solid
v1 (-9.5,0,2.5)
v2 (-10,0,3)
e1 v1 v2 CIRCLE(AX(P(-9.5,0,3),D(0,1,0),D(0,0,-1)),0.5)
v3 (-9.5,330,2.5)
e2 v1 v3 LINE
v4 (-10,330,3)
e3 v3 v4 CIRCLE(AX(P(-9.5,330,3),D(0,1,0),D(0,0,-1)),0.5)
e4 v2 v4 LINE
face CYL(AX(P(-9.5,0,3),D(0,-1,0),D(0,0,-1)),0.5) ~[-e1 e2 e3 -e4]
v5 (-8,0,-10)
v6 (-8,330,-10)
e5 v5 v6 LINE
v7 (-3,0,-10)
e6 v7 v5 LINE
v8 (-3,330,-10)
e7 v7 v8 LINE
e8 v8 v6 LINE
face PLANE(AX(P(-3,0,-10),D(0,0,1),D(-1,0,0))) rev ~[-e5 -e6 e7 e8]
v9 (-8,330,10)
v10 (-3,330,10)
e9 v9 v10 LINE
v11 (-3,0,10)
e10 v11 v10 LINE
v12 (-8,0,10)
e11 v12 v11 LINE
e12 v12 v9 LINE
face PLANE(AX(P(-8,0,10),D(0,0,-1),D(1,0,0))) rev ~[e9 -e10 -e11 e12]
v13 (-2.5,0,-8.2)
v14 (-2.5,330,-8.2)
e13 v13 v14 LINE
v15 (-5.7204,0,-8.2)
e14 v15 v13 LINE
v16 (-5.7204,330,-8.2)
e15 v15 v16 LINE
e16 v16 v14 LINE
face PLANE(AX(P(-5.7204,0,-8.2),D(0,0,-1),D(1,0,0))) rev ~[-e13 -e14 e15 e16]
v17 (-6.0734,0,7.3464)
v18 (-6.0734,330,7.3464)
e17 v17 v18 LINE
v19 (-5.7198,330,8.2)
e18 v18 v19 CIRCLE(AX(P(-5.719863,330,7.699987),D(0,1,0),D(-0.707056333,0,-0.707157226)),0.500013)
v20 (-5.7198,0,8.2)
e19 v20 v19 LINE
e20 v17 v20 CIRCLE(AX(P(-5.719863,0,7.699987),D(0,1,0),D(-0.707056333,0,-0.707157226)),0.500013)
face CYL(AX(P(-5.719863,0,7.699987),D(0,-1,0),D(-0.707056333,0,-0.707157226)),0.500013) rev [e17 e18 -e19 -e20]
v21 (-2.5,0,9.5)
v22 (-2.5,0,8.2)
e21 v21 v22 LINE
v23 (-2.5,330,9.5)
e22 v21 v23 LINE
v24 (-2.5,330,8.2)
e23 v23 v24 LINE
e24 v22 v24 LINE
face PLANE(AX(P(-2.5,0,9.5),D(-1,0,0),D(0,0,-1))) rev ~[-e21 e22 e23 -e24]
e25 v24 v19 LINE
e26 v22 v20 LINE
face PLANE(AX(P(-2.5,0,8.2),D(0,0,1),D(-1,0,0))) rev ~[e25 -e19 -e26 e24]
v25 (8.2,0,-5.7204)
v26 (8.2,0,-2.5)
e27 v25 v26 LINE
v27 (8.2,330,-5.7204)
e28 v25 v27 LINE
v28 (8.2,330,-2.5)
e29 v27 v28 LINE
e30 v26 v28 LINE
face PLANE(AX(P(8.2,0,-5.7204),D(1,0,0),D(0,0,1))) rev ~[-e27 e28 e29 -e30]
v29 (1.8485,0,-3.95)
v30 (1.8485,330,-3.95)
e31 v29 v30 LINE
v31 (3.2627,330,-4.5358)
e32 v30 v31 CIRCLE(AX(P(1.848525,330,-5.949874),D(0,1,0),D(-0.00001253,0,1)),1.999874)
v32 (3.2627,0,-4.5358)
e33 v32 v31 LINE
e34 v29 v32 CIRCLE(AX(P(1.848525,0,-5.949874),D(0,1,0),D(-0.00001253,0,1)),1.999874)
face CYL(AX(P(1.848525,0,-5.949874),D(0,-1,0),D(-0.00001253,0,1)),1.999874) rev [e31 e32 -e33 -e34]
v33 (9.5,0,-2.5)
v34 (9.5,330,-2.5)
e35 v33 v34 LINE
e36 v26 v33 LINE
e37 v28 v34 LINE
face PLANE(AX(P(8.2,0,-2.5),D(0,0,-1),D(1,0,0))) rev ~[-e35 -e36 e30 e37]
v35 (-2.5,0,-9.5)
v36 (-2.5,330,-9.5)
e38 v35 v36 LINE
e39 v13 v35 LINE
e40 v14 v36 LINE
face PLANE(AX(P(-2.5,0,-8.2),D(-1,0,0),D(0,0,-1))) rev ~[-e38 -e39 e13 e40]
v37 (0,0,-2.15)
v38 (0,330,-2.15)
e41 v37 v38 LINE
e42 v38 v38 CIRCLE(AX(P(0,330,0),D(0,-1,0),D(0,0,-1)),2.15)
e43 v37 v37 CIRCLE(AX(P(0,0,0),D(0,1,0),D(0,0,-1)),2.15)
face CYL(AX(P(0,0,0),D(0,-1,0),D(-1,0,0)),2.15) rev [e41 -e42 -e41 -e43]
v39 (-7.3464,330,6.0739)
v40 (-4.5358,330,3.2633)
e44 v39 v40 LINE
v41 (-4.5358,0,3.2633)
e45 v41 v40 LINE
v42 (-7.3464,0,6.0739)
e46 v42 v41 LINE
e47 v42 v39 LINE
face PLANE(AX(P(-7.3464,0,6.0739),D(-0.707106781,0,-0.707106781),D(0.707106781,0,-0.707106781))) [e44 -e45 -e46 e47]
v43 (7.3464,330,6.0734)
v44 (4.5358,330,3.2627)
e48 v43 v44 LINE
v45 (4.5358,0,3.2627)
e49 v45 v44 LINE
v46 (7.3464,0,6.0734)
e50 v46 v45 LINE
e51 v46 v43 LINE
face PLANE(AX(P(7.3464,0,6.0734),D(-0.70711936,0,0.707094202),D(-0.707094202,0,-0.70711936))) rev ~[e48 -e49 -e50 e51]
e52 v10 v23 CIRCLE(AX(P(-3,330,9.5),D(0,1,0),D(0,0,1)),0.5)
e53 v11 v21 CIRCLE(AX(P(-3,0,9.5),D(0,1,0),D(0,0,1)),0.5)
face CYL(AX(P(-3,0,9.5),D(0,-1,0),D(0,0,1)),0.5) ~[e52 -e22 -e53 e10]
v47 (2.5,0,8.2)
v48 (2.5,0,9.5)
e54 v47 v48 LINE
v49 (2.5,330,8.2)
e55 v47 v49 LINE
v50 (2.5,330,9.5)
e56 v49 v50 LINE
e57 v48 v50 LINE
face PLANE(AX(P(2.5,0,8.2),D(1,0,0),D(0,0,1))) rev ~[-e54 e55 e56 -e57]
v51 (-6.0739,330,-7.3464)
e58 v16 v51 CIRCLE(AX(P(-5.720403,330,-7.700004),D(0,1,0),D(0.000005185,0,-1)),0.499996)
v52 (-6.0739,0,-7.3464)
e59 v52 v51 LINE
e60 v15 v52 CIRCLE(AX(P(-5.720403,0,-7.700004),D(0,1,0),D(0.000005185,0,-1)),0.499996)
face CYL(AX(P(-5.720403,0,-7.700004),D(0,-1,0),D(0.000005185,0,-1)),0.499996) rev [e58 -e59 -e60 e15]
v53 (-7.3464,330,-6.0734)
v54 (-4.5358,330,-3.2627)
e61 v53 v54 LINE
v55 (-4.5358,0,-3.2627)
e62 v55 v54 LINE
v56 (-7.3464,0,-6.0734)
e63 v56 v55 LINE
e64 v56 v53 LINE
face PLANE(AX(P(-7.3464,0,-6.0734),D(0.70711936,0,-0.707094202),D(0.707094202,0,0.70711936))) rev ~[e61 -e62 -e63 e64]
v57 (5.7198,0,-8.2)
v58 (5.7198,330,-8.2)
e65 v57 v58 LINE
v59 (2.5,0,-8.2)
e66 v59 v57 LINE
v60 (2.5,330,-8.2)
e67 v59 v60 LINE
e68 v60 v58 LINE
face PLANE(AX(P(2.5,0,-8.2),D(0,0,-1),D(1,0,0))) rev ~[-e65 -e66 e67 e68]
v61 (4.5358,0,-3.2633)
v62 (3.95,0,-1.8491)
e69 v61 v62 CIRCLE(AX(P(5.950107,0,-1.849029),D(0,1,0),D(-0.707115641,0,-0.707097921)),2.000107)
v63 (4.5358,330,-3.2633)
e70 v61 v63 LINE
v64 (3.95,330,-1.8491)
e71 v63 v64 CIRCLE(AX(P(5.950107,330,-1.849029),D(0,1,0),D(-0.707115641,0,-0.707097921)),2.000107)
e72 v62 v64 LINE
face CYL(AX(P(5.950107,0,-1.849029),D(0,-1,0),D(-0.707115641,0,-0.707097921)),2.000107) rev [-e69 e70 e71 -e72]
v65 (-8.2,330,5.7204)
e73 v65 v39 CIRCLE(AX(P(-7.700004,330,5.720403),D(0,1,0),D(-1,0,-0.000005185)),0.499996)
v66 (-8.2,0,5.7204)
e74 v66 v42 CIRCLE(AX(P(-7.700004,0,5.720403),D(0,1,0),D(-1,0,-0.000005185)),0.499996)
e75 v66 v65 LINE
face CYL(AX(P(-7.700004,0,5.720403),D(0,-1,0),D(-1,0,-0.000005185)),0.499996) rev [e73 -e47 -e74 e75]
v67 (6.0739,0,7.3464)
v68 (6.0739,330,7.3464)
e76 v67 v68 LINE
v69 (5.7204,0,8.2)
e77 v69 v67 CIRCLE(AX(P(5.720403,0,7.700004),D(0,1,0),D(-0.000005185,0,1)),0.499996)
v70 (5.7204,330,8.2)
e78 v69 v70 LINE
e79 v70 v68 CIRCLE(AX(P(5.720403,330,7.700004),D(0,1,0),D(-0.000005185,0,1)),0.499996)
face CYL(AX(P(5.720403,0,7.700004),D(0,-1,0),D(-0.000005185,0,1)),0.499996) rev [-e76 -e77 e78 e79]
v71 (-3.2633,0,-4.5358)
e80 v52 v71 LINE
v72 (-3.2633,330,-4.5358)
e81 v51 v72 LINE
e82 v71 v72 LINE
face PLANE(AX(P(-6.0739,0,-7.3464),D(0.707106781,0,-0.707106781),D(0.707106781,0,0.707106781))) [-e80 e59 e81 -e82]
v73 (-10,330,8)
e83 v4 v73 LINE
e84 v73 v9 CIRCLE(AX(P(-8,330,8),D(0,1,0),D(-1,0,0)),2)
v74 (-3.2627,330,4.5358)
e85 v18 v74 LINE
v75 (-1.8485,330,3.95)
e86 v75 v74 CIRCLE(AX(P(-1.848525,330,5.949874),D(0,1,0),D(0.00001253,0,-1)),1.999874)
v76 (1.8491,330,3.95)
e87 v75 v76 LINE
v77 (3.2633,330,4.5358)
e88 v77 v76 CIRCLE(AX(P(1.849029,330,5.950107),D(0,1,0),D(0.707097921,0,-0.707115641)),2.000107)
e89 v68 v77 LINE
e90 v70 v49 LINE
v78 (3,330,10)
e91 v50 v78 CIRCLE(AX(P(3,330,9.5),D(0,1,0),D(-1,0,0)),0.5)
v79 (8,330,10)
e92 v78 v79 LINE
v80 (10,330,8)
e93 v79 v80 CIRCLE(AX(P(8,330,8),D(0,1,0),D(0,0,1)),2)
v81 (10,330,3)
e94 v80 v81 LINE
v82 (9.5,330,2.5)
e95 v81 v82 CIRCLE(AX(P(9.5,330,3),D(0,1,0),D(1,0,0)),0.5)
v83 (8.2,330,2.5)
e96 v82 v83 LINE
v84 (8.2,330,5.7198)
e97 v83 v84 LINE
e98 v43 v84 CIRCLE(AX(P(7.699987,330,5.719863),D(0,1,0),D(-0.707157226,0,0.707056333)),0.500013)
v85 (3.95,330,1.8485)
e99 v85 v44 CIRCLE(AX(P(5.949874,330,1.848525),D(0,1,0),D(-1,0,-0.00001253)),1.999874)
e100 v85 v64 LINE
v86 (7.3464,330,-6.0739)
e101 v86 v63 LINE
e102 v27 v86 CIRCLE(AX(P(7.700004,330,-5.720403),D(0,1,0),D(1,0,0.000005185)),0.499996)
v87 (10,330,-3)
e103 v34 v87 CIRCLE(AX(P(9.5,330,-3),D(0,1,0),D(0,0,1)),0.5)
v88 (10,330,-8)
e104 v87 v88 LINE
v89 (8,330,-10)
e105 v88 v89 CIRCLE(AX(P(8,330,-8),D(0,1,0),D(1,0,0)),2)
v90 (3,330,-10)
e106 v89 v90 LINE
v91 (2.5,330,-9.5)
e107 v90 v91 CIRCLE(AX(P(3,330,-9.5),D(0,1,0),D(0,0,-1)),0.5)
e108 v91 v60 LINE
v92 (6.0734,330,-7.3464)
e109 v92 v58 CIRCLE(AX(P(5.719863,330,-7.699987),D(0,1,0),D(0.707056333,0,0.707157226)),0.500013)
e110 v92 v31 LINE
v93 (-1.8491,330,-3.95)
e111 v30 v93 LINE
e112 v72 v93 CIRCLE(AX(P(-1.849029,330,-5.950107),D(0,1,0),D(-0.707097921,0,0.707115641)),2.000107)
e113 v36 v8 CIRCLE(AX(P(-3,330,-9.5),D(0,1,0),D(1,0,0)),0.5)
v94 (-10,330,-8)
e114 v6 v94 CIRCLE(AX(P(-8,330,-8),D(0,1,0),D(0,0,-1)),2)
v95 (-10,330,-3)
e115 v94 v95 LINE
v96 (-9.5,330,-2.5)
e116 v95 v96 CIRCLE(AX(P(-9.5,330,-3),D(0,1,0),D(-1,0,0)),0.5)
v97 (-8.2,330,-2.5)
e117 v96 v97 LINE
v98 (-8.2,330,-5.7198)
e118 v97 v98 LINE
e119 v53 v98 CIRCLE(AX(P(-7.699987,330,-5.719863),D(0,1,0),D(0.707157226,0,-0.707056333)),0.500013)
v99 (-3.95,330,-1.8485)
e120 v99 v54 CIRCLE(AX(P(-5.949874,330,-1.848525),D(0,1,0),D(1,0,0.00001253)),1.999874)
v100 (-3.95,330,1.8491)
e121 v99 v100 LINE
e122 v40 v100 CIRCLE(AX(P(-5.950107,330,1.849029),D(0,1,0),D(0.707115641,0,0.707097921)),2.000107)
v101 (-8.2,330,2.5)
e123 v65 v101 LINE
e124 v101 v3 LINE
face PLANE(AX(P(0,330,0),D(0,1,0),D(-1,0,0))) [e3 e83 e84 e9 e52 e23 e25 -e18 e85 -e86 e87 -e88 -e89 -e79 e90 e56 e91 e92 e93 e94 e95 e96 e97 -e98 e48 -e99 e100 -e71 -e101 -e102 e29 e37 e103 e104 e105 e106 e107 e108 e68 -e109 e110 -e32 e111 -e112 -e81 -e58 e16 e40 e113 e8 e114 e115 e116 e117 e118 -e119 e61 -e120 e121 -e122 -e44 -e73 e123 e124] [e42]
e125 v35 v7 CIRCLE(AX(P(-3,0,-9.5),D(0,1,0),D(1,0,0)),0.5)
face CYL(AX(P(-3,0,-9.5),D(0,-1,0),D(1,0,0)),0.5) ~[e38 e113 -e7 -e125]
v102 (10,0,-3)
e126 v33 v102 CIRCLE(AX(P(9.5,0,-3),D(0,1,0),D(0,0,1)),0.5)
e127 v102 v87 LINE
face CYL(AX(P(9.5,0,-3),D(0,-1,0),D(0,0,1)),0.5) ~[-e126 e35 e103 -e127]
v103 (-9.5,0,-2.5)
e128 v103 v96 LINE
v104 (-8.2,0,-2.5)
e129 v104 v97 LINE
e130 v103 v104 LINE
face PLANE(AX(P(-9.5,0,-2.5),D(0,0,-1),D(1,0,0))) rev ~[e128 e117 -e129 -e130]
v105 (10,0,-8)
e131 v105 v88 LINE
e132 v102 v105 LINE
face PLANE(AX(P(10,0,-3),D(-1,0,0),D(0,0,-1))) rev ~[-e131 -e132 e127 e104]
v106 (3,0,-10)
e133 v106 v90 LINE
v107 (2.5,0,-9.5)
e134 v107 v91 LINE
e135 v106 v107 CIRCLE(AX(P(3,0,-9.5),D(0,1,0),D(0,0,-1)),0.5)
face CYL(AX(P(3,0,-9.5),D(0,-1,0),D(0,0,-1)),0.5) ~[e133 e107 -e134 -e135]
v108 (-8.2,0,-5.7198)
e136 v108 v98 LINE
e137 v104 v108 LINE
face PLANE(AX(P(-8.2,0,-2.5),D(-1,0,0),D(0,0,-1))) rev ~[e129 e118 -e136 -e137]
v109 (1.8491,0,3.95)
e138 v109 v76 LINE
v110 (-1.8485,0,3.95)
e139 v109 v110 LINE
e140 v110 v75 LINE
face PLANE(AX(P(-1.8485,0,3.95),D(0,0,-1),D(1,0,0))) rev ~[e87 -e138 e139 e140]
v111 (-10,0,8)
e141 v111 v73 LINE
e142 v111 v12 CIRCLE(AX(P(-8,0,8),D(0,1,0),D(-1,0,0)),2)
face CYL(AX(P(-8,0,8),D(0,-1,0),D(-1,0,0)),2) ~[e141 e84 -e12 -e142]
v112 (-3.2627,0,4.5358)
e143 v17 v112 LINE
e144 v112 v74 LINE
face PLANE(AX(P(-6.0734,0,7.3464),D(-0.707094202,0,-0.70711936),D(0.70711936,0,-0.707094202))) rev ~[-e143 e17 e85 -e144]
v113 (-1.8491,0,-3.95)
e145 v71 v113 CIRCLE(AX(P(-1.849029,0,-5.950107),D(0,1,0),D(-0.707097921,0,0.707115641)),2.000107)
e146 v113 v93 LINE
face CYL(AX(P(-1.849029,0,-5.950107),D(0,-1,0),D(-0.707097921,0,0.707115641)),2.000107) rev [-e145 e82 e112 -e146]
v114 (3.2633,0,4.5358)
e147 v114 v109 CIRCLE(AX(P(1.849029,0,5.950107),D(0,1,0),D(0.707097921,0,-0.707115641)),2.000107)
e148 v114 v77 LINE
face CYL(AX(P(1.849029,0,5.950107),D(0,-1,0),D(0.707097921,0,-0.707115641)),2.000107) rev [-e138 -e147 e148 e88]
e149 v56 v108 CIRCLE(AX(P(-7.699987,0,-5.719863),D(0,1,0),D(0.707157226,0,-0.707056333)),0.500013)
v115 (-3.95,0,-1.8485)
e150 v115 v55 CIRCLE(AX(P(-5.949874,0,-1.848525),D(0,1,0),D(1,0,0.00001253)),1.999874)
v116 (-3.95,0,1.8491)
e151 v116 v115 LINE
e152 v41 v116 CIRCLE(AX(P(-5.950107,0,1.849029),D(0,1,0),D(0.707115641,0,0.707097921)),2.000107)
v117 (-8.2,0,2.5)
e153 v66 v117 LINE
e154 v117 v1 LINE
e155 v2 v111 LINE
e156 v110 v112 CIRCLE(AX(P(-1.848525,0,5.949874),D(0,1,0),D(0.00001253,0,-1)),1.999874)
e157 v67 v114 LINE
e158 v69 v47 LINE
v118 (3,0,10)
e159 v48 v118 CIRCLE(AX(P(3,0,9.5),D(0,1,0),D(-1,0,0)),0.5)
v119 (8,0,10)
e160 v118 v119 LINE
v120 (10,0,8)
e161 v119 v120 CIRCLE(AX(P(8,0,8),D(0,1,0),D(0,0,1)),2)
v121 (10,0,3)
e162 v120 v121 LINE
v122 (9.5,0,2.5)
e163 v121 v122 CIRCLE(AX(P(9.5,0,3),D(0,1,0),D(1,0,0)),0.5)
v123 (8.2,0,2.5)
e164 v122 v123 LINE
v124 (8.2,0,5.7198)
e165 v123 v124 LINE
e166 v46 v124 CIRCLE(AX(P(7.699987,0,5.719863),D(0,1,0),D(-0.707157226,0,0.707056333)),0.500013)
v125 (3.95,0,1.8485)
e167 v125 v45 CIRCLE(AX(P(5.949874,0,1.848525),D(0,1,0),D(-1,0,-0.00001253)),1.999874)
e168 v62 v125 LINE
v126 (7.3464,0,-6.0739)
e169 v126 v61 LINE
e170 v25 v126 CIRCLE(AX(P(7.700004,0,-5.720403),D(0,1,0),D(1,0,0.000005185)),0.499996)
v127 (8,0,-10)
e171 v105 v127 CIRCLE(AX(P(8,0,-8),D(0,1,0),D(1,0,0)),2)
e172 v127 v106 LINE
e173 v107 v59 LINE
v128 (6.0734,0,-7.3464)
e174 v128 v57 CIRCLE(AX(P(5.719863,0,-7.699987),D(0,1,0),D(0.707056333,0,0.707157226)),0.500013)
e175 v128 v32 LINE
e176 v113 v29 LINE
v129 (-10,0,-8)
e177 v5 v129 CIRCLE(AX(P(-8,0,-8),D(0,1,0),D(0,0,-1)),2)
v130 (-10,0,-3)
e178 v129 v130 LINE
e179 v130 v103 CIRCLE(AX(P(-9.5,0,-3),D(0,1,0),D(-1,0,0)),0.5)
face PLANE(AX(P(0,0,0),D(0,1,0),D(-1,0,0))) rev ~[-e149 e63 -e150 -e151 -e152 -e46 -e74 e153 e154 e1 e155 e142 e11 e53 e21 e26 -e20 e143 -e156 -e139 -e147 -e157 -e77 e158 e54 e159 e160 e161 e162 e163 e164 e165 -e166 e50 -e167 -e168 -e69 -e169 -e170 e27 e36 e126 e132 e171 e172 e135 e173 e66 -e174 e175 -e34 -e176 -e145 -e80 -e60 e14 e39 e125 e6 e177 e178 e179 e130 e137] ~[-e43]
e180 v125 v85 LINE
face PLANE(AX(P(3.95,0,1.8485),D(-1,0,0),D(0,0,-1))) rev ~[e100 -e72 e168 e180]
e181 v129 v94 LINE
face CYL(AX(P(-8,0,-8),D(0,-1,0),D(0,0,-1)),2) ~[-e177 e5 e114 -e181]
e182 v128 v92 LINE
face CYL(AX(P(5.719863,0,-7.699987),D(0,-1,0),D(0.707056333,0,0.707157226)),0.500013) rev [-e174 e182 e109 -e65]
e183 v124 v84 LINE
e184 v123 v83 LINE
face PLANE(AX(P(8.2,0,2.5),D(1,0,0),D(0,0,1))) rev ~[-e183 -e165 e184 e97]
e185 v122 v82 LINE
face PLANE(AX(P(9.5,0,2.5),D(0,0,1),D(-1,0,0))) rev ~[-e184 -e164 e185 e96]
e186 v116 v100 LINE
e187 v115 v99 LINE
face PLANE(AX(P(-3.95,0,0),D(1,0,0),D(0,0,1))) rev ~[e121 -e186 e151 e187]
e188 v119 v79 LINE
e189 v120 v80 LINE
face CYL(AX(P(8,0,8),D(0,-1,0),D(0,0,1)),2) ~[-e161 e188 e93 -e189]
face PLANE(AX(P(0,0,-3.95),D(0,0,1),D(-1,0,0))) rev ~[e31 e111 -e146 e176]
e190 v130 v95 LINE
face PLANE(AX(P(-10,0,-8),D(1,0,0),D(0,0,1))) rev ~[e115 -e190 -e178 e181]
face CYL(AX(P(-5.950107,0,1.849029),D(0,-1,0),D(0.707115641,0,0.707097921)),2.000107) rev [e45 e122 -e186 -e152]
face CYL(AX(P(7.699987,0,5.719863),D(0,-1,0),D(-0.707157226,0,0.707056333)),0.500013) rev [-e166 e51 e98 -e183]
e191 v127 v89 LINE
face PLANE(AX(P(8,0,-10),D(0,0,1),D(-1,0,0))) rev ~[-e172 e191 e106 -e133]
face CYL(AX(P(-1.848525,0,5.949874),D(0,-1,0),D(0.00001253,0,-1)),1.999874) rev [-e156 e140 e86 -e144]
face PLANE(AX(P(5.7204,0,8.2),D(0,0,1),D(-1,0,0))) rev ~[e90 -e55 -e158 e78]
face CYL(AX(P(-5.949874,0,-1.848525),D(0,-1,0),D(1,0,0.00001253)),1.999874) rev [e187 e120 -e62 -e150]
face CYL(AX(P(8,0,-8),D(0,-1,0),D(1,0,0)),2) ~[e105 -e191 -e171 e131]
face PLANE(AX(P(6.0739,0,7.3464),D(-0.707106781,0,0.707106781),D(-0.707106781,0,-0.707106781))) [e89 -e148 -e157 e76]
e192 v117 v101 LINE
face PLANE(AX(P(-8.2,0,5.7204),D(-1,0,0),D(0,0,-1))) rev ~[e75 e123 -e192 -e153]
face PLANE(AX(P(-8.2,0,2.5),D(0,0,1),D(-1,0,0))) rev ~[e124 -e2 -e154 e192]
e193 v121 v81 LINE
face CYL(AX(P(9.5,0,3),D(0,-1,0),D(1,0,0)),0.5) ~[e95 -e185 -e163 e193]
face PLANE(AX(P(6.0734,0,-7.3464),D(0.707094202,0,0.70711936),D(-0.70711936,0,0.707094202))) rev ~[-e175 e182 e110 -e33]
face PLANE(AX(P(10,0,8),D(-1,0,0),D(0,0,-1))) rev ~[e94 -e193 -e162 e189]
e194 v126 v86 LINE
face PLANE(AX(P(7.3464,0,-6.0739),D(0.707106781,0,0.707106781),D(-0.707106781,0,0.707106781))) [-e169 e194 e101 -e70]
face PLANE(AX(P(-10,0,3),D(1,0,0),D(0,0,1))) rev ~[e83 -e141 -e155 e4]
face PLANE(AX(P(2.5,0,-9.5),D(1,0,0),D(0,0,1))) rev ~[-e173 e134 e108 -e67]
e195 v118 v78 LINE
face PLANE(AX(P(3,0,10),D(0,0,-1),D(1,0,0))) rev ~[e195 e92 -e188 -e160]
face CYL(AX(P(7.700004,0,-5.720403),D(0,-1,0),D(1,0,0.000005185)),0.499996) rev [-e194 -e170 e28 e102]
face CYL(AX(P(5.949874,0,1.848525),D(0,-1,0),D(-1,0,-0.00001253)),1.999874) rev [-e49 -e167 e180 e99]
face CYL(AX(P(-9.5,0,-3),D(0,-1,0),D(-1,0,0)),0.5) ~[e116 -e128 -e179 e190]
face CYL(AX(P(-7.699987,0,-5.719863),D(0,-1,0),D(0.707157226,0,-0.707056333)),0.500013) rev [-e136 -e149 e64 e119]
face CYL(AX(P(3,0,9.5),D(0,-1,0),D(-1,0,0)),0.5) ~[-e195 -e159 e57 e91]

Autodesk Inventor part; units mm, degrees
ref_plane "YZ Plane" through (0, 0, 0) normal (1, 0, 0) x (0, 1, 0)
ref_plane "XZ Plane" through (0, 0, 0) normal (0, 1, 0) x (-1, 0, 0)
ref_plane "XY Plane" through (0, 0, 0) normal (0, 0, 1) x (1, 0, 0)
sketch "Sketch1" plane through (0, 0, 0) normal (0, 1, 0) x (-1, 0, 0)
  line L0 (8, 10) -> (3, 10)
  line L1 (10, 3) -> (10, 8)
  line L2 (2.5, 9.5) -> (2.5, 8.2)
  line L3 (2.5, 8.2) -> (5.7198, 8.2)
  line L4 (6.0734, 7.3464) -> (3.2627, 4.5358)
  line L5 (1.8485, 3.95) -> (0, 3.95)
  line L6 (0, 3.95) -> (0, 2.15)
  line L7 (0, 2.15) -> (0, 2.15)
  line L8 (2.15, 0) -> (2.15, 0)
  line L9 (2.15, 0) -> (3.95, 0)
  line L10 (8.2, 5.7204) -> (8.2, 2.5)
  line L11 (8.2, 2.5) -> (9.5, 2.5)
  line L12 (0, 29.0836) -> (0, -4.1523) construction
  line L13 (3.95, 0) -> (3.95, 1.8491)
  line L14 (7.3464, 6.0739) -> (4.5358, 3.2633)
  arc A0 (10, 8) -> (8, 10) centre (8, 8) ccw
  arc A1 (8.2, 5.7204) -> (7.3464, 6.0739) centre (7.7, 5.7204) ccw
  arc A2 (6.0734, 7.3464) -> (5.7198, 8.2) centre (5.7198, 7.7) ccw
  arc A3 (4.5358, 3.2633) -> (3.95, 1.8491) centre (5.95, 1.8491) ccw
  arc A4 (1.8485, 3.95) -> (3.2627, 4.5358) centre (1.8485, 5.95) ccw
  arc A5 (2.15, 0) -> (0, 2.15) centre (0, 0) ccw
  arc A6 (3, 10) -> (2.5, 9.5) centre (3, 9.5) ccw
  arc A7 (9.5, 2.5) -> (10, 3) centre (9.5, 3) ccw
  line L15 (18.5462, 0) -> (-9.9601, 0) construction
  line L16 (-3, 10) -> (-8, 10)
  arc A8 (-2.5, 9.5) -> (-3, 10) centre (-3, 9.5) ccw
  line L17 (-2.5, 8.2) -> (-2.5, 9.5)
  line L18 (-5.7204, 8.2) -> (-2.5, 8.2)
  arc A9 (-5.7204, 8.2) -> (-6.0739, 7.3464) centre (-5.7204, 7.7) ccw
  line L19 (-6.0739, 7.3464) -> (-3.2633, 4.5358)
  arc A10 (-3.2633, 4.5358) -> (-1.8491, 3.95) centre (-1.8491, 5.95) ccw
  line L20 (0, 3.95) -> (-1.8491, 3.95)
  line L21 (0, 2.15) -> (0, 3.95)
  arc A11 (0, 2.15) -> (-2.15, 0) centre (0, 0) ccw
  line L22 (-3.95, 0) -> (-2.15, 0)
  line L23 (-3.95, 1.8485) -> (-3.95, 0)
  arc A12 (-3.95, 1.8485) -> (-4.5358, 3.2627) centre (-5.95, 1.8485) ccw
  line L24 (-7.3464, 6.0734) -> (-4.5358, 3.2627)
  arc A13 (-7.3464, 6.0734) -> (-8.2, 5.7198) centre (-7.7, 5.7198) ccw
  line L25 (-8.2, 2.5) -> (-8.2, 5.7198)
  line L26 (-9.5, 2.5) -> (-8.2, 2.5)
  arc A14 (-10, 3) -> (-9.5, 2.5) centre (-9.5, 3) ccw
  line L27 (-10, 8) -> (-10, 3)
  arc A15 (-8, 10) -> (-10, 8) centre (-8, 8) ccw
  line L28 (-10, -3) -> (-10, -8)
  arc A16 (-9.5, -2.5) -> (-10, -3) centre (-9.5, -3) ccw
  line L29 (-8.2, -2.5) -> (-9.5, -2.5)
  line L30 (-8.2, -5.7204) -> (-8.2, -2.5)
  arc A17 (-8.2, -5.7204) -> (-7.3464, -6.0739) centre (-7.7, -5.7204) ccw
  line L31 (-7.3464, -6.0739) -> (-4.5358, -3.2633)
  arc A18 (-4.5358, -3.2633) -> (-3.95, -1.8491) centre (-5.95, -1.8491) ccw
  line L32 (-3.95, 0) -> (-3.95, -1.8491)
  line L33 (-2.15, 0) -> (-3.95, 0)
  arc A19 (-2.15, 0) -> (0, -2.15) centre (0, 0) ccw
  line L34 (0, -3.95) -> (0, -2.15)
  line L35 (-1.8485, -3.95) -> (0, -3.95)
  arc A20 (-1.8485, -3.95) -> (-3.2627, -4.5358) centre (-1.8485, -5.95) ccw
  line L36 (-6.0734, -7.3464) -> (-3.2627, -4.5358)
  arc A21 (-6.0734, -7.3464) -> (-5.7198, -8.2) centre (-5.7198, -7.7) ccw
  line L37 (-2.5, -8.2) -> (-5.7198, -8.2)
  line L38 (-2.5, -9.5) -> (-2.5, -8.2)
  arc A22 (-3, -10) -> (-2.5, -9.5) centre (-3, -9.5) ccw
  line L39 (-8, -10) -> (-3, -10)
  arc A23 (-10, -8) -> (-8, -10) centre (-8, -8) ccw
  line L40 (3, -10) -> (8, -10)
  arc A24 (2.5, -9.5) -> (3, -10) centre (3, -9.5) ccw
  line L41 (2.5, -8.2) -> (2.5, -9.5)
  line L42 (5.7204, -8.2) -> (2.5, -8.2)
  arc A25 (5.7204, -8.2) -> (6.0739, -7.3464) centre (5.7204, -7.7) ccw
  line L43 (6.0739, -7.3464) -> (3.2633, -4.5358)
  arc A26 (3.2633, -4.5358) -> (1.8491, -3.95) centre (1.8491, -5.95) ccw
  line L44 (0, -3.95) -> (1.8491, -3.95)
  line L45 (0, -2.15) -> (0, -3.95)
  arc A27 (0, -2.15) -> (2.15, 0) centre (0, 0) ccw
  line L46 (3.95, 0) -> (2.15, 0)
  line L47 (3.95, -1.8485) -> (3.95, 0)
  arc A28 (3.95, -1.8485) -> (4.5358, -3.2627) centre (5.95, -1.8485) ccw
  line L48 (7.3464, -6.0734) -> (4.5358, -3.2627)
  arc A29 (7.3464, -6.0734) -> (8.2, -5.7198) centre (7.7, -5.7198) ccw
  line L49 (8.2, -2.5) -> (8.2, -5.7198)
  line L50 (9.5, -2.5) -> (8.2, -2.5)
  arc A30 (10, -3) -> (9.5, -2.5) centre (9.5, -3) ccw
  line L51 (10, -8) -> (10, -3)
  arc A31 (8, -10) -> (10, -8) centre (8, -8) ccw
  point P0 (0, 0)
  point P1 (3.95, 2.6775)
  point P2 (-2.6775, 3.95)
  point P3 (0, 0)
  point P4 (-3.95, -2.6775)
  point P5 (0, 0)
  point P6 (2.6775, -3.95)
  point P7 (0, 0)
  dimension "d1" = 2.5
  dimension "d2" = 2.5
  dimension "d3" = 1.8
  dimension "d4" = 1.8
  dimension "d5" = 45
  dimension "d6" = 2.15
  dimension "d7" = 2.15
  dimension "d8" = 1.8
  dimension "d11" = 10
  dimension "d12" = 10
  dimension "d14" = 1.8
  dimension "d15" = 1.8
  dimension "d16" = 2.6775
  dimension "d18" = 2
  dimension "d19" = 0.5
  dimension "d20" = 2
  dimension "d21" = 2.15
  dimension "d22" = 0.5
  dimension "d25" = 360
extrude "Profil_20x20" add sketch "Sketch1" along normal blind 330 contours A0 L1 A7 L11 L10 A1 L14 A3 L13 L9 A5 L6 L5 A4 L4 A2 L3 L2 A6 L0 | L6 A11 L22 L23 A12 L24 A13 L25 L26 A14 L27 A15 L16 A8 L17 L18 A9 L19 A10 L20 | L47 A28 L48 A29 L49 L50 A30 L51 A31 L40 A24 L41 L42 A25 L43 A26 L44 L34 A27 L9 | A19 L34 L35 A20 L36 A21 L37 L38 A22 L39 A23 L28 A16 L29 L30 A17 L31 A18 L32 L22
properties part number "Profil_20x20_330"
